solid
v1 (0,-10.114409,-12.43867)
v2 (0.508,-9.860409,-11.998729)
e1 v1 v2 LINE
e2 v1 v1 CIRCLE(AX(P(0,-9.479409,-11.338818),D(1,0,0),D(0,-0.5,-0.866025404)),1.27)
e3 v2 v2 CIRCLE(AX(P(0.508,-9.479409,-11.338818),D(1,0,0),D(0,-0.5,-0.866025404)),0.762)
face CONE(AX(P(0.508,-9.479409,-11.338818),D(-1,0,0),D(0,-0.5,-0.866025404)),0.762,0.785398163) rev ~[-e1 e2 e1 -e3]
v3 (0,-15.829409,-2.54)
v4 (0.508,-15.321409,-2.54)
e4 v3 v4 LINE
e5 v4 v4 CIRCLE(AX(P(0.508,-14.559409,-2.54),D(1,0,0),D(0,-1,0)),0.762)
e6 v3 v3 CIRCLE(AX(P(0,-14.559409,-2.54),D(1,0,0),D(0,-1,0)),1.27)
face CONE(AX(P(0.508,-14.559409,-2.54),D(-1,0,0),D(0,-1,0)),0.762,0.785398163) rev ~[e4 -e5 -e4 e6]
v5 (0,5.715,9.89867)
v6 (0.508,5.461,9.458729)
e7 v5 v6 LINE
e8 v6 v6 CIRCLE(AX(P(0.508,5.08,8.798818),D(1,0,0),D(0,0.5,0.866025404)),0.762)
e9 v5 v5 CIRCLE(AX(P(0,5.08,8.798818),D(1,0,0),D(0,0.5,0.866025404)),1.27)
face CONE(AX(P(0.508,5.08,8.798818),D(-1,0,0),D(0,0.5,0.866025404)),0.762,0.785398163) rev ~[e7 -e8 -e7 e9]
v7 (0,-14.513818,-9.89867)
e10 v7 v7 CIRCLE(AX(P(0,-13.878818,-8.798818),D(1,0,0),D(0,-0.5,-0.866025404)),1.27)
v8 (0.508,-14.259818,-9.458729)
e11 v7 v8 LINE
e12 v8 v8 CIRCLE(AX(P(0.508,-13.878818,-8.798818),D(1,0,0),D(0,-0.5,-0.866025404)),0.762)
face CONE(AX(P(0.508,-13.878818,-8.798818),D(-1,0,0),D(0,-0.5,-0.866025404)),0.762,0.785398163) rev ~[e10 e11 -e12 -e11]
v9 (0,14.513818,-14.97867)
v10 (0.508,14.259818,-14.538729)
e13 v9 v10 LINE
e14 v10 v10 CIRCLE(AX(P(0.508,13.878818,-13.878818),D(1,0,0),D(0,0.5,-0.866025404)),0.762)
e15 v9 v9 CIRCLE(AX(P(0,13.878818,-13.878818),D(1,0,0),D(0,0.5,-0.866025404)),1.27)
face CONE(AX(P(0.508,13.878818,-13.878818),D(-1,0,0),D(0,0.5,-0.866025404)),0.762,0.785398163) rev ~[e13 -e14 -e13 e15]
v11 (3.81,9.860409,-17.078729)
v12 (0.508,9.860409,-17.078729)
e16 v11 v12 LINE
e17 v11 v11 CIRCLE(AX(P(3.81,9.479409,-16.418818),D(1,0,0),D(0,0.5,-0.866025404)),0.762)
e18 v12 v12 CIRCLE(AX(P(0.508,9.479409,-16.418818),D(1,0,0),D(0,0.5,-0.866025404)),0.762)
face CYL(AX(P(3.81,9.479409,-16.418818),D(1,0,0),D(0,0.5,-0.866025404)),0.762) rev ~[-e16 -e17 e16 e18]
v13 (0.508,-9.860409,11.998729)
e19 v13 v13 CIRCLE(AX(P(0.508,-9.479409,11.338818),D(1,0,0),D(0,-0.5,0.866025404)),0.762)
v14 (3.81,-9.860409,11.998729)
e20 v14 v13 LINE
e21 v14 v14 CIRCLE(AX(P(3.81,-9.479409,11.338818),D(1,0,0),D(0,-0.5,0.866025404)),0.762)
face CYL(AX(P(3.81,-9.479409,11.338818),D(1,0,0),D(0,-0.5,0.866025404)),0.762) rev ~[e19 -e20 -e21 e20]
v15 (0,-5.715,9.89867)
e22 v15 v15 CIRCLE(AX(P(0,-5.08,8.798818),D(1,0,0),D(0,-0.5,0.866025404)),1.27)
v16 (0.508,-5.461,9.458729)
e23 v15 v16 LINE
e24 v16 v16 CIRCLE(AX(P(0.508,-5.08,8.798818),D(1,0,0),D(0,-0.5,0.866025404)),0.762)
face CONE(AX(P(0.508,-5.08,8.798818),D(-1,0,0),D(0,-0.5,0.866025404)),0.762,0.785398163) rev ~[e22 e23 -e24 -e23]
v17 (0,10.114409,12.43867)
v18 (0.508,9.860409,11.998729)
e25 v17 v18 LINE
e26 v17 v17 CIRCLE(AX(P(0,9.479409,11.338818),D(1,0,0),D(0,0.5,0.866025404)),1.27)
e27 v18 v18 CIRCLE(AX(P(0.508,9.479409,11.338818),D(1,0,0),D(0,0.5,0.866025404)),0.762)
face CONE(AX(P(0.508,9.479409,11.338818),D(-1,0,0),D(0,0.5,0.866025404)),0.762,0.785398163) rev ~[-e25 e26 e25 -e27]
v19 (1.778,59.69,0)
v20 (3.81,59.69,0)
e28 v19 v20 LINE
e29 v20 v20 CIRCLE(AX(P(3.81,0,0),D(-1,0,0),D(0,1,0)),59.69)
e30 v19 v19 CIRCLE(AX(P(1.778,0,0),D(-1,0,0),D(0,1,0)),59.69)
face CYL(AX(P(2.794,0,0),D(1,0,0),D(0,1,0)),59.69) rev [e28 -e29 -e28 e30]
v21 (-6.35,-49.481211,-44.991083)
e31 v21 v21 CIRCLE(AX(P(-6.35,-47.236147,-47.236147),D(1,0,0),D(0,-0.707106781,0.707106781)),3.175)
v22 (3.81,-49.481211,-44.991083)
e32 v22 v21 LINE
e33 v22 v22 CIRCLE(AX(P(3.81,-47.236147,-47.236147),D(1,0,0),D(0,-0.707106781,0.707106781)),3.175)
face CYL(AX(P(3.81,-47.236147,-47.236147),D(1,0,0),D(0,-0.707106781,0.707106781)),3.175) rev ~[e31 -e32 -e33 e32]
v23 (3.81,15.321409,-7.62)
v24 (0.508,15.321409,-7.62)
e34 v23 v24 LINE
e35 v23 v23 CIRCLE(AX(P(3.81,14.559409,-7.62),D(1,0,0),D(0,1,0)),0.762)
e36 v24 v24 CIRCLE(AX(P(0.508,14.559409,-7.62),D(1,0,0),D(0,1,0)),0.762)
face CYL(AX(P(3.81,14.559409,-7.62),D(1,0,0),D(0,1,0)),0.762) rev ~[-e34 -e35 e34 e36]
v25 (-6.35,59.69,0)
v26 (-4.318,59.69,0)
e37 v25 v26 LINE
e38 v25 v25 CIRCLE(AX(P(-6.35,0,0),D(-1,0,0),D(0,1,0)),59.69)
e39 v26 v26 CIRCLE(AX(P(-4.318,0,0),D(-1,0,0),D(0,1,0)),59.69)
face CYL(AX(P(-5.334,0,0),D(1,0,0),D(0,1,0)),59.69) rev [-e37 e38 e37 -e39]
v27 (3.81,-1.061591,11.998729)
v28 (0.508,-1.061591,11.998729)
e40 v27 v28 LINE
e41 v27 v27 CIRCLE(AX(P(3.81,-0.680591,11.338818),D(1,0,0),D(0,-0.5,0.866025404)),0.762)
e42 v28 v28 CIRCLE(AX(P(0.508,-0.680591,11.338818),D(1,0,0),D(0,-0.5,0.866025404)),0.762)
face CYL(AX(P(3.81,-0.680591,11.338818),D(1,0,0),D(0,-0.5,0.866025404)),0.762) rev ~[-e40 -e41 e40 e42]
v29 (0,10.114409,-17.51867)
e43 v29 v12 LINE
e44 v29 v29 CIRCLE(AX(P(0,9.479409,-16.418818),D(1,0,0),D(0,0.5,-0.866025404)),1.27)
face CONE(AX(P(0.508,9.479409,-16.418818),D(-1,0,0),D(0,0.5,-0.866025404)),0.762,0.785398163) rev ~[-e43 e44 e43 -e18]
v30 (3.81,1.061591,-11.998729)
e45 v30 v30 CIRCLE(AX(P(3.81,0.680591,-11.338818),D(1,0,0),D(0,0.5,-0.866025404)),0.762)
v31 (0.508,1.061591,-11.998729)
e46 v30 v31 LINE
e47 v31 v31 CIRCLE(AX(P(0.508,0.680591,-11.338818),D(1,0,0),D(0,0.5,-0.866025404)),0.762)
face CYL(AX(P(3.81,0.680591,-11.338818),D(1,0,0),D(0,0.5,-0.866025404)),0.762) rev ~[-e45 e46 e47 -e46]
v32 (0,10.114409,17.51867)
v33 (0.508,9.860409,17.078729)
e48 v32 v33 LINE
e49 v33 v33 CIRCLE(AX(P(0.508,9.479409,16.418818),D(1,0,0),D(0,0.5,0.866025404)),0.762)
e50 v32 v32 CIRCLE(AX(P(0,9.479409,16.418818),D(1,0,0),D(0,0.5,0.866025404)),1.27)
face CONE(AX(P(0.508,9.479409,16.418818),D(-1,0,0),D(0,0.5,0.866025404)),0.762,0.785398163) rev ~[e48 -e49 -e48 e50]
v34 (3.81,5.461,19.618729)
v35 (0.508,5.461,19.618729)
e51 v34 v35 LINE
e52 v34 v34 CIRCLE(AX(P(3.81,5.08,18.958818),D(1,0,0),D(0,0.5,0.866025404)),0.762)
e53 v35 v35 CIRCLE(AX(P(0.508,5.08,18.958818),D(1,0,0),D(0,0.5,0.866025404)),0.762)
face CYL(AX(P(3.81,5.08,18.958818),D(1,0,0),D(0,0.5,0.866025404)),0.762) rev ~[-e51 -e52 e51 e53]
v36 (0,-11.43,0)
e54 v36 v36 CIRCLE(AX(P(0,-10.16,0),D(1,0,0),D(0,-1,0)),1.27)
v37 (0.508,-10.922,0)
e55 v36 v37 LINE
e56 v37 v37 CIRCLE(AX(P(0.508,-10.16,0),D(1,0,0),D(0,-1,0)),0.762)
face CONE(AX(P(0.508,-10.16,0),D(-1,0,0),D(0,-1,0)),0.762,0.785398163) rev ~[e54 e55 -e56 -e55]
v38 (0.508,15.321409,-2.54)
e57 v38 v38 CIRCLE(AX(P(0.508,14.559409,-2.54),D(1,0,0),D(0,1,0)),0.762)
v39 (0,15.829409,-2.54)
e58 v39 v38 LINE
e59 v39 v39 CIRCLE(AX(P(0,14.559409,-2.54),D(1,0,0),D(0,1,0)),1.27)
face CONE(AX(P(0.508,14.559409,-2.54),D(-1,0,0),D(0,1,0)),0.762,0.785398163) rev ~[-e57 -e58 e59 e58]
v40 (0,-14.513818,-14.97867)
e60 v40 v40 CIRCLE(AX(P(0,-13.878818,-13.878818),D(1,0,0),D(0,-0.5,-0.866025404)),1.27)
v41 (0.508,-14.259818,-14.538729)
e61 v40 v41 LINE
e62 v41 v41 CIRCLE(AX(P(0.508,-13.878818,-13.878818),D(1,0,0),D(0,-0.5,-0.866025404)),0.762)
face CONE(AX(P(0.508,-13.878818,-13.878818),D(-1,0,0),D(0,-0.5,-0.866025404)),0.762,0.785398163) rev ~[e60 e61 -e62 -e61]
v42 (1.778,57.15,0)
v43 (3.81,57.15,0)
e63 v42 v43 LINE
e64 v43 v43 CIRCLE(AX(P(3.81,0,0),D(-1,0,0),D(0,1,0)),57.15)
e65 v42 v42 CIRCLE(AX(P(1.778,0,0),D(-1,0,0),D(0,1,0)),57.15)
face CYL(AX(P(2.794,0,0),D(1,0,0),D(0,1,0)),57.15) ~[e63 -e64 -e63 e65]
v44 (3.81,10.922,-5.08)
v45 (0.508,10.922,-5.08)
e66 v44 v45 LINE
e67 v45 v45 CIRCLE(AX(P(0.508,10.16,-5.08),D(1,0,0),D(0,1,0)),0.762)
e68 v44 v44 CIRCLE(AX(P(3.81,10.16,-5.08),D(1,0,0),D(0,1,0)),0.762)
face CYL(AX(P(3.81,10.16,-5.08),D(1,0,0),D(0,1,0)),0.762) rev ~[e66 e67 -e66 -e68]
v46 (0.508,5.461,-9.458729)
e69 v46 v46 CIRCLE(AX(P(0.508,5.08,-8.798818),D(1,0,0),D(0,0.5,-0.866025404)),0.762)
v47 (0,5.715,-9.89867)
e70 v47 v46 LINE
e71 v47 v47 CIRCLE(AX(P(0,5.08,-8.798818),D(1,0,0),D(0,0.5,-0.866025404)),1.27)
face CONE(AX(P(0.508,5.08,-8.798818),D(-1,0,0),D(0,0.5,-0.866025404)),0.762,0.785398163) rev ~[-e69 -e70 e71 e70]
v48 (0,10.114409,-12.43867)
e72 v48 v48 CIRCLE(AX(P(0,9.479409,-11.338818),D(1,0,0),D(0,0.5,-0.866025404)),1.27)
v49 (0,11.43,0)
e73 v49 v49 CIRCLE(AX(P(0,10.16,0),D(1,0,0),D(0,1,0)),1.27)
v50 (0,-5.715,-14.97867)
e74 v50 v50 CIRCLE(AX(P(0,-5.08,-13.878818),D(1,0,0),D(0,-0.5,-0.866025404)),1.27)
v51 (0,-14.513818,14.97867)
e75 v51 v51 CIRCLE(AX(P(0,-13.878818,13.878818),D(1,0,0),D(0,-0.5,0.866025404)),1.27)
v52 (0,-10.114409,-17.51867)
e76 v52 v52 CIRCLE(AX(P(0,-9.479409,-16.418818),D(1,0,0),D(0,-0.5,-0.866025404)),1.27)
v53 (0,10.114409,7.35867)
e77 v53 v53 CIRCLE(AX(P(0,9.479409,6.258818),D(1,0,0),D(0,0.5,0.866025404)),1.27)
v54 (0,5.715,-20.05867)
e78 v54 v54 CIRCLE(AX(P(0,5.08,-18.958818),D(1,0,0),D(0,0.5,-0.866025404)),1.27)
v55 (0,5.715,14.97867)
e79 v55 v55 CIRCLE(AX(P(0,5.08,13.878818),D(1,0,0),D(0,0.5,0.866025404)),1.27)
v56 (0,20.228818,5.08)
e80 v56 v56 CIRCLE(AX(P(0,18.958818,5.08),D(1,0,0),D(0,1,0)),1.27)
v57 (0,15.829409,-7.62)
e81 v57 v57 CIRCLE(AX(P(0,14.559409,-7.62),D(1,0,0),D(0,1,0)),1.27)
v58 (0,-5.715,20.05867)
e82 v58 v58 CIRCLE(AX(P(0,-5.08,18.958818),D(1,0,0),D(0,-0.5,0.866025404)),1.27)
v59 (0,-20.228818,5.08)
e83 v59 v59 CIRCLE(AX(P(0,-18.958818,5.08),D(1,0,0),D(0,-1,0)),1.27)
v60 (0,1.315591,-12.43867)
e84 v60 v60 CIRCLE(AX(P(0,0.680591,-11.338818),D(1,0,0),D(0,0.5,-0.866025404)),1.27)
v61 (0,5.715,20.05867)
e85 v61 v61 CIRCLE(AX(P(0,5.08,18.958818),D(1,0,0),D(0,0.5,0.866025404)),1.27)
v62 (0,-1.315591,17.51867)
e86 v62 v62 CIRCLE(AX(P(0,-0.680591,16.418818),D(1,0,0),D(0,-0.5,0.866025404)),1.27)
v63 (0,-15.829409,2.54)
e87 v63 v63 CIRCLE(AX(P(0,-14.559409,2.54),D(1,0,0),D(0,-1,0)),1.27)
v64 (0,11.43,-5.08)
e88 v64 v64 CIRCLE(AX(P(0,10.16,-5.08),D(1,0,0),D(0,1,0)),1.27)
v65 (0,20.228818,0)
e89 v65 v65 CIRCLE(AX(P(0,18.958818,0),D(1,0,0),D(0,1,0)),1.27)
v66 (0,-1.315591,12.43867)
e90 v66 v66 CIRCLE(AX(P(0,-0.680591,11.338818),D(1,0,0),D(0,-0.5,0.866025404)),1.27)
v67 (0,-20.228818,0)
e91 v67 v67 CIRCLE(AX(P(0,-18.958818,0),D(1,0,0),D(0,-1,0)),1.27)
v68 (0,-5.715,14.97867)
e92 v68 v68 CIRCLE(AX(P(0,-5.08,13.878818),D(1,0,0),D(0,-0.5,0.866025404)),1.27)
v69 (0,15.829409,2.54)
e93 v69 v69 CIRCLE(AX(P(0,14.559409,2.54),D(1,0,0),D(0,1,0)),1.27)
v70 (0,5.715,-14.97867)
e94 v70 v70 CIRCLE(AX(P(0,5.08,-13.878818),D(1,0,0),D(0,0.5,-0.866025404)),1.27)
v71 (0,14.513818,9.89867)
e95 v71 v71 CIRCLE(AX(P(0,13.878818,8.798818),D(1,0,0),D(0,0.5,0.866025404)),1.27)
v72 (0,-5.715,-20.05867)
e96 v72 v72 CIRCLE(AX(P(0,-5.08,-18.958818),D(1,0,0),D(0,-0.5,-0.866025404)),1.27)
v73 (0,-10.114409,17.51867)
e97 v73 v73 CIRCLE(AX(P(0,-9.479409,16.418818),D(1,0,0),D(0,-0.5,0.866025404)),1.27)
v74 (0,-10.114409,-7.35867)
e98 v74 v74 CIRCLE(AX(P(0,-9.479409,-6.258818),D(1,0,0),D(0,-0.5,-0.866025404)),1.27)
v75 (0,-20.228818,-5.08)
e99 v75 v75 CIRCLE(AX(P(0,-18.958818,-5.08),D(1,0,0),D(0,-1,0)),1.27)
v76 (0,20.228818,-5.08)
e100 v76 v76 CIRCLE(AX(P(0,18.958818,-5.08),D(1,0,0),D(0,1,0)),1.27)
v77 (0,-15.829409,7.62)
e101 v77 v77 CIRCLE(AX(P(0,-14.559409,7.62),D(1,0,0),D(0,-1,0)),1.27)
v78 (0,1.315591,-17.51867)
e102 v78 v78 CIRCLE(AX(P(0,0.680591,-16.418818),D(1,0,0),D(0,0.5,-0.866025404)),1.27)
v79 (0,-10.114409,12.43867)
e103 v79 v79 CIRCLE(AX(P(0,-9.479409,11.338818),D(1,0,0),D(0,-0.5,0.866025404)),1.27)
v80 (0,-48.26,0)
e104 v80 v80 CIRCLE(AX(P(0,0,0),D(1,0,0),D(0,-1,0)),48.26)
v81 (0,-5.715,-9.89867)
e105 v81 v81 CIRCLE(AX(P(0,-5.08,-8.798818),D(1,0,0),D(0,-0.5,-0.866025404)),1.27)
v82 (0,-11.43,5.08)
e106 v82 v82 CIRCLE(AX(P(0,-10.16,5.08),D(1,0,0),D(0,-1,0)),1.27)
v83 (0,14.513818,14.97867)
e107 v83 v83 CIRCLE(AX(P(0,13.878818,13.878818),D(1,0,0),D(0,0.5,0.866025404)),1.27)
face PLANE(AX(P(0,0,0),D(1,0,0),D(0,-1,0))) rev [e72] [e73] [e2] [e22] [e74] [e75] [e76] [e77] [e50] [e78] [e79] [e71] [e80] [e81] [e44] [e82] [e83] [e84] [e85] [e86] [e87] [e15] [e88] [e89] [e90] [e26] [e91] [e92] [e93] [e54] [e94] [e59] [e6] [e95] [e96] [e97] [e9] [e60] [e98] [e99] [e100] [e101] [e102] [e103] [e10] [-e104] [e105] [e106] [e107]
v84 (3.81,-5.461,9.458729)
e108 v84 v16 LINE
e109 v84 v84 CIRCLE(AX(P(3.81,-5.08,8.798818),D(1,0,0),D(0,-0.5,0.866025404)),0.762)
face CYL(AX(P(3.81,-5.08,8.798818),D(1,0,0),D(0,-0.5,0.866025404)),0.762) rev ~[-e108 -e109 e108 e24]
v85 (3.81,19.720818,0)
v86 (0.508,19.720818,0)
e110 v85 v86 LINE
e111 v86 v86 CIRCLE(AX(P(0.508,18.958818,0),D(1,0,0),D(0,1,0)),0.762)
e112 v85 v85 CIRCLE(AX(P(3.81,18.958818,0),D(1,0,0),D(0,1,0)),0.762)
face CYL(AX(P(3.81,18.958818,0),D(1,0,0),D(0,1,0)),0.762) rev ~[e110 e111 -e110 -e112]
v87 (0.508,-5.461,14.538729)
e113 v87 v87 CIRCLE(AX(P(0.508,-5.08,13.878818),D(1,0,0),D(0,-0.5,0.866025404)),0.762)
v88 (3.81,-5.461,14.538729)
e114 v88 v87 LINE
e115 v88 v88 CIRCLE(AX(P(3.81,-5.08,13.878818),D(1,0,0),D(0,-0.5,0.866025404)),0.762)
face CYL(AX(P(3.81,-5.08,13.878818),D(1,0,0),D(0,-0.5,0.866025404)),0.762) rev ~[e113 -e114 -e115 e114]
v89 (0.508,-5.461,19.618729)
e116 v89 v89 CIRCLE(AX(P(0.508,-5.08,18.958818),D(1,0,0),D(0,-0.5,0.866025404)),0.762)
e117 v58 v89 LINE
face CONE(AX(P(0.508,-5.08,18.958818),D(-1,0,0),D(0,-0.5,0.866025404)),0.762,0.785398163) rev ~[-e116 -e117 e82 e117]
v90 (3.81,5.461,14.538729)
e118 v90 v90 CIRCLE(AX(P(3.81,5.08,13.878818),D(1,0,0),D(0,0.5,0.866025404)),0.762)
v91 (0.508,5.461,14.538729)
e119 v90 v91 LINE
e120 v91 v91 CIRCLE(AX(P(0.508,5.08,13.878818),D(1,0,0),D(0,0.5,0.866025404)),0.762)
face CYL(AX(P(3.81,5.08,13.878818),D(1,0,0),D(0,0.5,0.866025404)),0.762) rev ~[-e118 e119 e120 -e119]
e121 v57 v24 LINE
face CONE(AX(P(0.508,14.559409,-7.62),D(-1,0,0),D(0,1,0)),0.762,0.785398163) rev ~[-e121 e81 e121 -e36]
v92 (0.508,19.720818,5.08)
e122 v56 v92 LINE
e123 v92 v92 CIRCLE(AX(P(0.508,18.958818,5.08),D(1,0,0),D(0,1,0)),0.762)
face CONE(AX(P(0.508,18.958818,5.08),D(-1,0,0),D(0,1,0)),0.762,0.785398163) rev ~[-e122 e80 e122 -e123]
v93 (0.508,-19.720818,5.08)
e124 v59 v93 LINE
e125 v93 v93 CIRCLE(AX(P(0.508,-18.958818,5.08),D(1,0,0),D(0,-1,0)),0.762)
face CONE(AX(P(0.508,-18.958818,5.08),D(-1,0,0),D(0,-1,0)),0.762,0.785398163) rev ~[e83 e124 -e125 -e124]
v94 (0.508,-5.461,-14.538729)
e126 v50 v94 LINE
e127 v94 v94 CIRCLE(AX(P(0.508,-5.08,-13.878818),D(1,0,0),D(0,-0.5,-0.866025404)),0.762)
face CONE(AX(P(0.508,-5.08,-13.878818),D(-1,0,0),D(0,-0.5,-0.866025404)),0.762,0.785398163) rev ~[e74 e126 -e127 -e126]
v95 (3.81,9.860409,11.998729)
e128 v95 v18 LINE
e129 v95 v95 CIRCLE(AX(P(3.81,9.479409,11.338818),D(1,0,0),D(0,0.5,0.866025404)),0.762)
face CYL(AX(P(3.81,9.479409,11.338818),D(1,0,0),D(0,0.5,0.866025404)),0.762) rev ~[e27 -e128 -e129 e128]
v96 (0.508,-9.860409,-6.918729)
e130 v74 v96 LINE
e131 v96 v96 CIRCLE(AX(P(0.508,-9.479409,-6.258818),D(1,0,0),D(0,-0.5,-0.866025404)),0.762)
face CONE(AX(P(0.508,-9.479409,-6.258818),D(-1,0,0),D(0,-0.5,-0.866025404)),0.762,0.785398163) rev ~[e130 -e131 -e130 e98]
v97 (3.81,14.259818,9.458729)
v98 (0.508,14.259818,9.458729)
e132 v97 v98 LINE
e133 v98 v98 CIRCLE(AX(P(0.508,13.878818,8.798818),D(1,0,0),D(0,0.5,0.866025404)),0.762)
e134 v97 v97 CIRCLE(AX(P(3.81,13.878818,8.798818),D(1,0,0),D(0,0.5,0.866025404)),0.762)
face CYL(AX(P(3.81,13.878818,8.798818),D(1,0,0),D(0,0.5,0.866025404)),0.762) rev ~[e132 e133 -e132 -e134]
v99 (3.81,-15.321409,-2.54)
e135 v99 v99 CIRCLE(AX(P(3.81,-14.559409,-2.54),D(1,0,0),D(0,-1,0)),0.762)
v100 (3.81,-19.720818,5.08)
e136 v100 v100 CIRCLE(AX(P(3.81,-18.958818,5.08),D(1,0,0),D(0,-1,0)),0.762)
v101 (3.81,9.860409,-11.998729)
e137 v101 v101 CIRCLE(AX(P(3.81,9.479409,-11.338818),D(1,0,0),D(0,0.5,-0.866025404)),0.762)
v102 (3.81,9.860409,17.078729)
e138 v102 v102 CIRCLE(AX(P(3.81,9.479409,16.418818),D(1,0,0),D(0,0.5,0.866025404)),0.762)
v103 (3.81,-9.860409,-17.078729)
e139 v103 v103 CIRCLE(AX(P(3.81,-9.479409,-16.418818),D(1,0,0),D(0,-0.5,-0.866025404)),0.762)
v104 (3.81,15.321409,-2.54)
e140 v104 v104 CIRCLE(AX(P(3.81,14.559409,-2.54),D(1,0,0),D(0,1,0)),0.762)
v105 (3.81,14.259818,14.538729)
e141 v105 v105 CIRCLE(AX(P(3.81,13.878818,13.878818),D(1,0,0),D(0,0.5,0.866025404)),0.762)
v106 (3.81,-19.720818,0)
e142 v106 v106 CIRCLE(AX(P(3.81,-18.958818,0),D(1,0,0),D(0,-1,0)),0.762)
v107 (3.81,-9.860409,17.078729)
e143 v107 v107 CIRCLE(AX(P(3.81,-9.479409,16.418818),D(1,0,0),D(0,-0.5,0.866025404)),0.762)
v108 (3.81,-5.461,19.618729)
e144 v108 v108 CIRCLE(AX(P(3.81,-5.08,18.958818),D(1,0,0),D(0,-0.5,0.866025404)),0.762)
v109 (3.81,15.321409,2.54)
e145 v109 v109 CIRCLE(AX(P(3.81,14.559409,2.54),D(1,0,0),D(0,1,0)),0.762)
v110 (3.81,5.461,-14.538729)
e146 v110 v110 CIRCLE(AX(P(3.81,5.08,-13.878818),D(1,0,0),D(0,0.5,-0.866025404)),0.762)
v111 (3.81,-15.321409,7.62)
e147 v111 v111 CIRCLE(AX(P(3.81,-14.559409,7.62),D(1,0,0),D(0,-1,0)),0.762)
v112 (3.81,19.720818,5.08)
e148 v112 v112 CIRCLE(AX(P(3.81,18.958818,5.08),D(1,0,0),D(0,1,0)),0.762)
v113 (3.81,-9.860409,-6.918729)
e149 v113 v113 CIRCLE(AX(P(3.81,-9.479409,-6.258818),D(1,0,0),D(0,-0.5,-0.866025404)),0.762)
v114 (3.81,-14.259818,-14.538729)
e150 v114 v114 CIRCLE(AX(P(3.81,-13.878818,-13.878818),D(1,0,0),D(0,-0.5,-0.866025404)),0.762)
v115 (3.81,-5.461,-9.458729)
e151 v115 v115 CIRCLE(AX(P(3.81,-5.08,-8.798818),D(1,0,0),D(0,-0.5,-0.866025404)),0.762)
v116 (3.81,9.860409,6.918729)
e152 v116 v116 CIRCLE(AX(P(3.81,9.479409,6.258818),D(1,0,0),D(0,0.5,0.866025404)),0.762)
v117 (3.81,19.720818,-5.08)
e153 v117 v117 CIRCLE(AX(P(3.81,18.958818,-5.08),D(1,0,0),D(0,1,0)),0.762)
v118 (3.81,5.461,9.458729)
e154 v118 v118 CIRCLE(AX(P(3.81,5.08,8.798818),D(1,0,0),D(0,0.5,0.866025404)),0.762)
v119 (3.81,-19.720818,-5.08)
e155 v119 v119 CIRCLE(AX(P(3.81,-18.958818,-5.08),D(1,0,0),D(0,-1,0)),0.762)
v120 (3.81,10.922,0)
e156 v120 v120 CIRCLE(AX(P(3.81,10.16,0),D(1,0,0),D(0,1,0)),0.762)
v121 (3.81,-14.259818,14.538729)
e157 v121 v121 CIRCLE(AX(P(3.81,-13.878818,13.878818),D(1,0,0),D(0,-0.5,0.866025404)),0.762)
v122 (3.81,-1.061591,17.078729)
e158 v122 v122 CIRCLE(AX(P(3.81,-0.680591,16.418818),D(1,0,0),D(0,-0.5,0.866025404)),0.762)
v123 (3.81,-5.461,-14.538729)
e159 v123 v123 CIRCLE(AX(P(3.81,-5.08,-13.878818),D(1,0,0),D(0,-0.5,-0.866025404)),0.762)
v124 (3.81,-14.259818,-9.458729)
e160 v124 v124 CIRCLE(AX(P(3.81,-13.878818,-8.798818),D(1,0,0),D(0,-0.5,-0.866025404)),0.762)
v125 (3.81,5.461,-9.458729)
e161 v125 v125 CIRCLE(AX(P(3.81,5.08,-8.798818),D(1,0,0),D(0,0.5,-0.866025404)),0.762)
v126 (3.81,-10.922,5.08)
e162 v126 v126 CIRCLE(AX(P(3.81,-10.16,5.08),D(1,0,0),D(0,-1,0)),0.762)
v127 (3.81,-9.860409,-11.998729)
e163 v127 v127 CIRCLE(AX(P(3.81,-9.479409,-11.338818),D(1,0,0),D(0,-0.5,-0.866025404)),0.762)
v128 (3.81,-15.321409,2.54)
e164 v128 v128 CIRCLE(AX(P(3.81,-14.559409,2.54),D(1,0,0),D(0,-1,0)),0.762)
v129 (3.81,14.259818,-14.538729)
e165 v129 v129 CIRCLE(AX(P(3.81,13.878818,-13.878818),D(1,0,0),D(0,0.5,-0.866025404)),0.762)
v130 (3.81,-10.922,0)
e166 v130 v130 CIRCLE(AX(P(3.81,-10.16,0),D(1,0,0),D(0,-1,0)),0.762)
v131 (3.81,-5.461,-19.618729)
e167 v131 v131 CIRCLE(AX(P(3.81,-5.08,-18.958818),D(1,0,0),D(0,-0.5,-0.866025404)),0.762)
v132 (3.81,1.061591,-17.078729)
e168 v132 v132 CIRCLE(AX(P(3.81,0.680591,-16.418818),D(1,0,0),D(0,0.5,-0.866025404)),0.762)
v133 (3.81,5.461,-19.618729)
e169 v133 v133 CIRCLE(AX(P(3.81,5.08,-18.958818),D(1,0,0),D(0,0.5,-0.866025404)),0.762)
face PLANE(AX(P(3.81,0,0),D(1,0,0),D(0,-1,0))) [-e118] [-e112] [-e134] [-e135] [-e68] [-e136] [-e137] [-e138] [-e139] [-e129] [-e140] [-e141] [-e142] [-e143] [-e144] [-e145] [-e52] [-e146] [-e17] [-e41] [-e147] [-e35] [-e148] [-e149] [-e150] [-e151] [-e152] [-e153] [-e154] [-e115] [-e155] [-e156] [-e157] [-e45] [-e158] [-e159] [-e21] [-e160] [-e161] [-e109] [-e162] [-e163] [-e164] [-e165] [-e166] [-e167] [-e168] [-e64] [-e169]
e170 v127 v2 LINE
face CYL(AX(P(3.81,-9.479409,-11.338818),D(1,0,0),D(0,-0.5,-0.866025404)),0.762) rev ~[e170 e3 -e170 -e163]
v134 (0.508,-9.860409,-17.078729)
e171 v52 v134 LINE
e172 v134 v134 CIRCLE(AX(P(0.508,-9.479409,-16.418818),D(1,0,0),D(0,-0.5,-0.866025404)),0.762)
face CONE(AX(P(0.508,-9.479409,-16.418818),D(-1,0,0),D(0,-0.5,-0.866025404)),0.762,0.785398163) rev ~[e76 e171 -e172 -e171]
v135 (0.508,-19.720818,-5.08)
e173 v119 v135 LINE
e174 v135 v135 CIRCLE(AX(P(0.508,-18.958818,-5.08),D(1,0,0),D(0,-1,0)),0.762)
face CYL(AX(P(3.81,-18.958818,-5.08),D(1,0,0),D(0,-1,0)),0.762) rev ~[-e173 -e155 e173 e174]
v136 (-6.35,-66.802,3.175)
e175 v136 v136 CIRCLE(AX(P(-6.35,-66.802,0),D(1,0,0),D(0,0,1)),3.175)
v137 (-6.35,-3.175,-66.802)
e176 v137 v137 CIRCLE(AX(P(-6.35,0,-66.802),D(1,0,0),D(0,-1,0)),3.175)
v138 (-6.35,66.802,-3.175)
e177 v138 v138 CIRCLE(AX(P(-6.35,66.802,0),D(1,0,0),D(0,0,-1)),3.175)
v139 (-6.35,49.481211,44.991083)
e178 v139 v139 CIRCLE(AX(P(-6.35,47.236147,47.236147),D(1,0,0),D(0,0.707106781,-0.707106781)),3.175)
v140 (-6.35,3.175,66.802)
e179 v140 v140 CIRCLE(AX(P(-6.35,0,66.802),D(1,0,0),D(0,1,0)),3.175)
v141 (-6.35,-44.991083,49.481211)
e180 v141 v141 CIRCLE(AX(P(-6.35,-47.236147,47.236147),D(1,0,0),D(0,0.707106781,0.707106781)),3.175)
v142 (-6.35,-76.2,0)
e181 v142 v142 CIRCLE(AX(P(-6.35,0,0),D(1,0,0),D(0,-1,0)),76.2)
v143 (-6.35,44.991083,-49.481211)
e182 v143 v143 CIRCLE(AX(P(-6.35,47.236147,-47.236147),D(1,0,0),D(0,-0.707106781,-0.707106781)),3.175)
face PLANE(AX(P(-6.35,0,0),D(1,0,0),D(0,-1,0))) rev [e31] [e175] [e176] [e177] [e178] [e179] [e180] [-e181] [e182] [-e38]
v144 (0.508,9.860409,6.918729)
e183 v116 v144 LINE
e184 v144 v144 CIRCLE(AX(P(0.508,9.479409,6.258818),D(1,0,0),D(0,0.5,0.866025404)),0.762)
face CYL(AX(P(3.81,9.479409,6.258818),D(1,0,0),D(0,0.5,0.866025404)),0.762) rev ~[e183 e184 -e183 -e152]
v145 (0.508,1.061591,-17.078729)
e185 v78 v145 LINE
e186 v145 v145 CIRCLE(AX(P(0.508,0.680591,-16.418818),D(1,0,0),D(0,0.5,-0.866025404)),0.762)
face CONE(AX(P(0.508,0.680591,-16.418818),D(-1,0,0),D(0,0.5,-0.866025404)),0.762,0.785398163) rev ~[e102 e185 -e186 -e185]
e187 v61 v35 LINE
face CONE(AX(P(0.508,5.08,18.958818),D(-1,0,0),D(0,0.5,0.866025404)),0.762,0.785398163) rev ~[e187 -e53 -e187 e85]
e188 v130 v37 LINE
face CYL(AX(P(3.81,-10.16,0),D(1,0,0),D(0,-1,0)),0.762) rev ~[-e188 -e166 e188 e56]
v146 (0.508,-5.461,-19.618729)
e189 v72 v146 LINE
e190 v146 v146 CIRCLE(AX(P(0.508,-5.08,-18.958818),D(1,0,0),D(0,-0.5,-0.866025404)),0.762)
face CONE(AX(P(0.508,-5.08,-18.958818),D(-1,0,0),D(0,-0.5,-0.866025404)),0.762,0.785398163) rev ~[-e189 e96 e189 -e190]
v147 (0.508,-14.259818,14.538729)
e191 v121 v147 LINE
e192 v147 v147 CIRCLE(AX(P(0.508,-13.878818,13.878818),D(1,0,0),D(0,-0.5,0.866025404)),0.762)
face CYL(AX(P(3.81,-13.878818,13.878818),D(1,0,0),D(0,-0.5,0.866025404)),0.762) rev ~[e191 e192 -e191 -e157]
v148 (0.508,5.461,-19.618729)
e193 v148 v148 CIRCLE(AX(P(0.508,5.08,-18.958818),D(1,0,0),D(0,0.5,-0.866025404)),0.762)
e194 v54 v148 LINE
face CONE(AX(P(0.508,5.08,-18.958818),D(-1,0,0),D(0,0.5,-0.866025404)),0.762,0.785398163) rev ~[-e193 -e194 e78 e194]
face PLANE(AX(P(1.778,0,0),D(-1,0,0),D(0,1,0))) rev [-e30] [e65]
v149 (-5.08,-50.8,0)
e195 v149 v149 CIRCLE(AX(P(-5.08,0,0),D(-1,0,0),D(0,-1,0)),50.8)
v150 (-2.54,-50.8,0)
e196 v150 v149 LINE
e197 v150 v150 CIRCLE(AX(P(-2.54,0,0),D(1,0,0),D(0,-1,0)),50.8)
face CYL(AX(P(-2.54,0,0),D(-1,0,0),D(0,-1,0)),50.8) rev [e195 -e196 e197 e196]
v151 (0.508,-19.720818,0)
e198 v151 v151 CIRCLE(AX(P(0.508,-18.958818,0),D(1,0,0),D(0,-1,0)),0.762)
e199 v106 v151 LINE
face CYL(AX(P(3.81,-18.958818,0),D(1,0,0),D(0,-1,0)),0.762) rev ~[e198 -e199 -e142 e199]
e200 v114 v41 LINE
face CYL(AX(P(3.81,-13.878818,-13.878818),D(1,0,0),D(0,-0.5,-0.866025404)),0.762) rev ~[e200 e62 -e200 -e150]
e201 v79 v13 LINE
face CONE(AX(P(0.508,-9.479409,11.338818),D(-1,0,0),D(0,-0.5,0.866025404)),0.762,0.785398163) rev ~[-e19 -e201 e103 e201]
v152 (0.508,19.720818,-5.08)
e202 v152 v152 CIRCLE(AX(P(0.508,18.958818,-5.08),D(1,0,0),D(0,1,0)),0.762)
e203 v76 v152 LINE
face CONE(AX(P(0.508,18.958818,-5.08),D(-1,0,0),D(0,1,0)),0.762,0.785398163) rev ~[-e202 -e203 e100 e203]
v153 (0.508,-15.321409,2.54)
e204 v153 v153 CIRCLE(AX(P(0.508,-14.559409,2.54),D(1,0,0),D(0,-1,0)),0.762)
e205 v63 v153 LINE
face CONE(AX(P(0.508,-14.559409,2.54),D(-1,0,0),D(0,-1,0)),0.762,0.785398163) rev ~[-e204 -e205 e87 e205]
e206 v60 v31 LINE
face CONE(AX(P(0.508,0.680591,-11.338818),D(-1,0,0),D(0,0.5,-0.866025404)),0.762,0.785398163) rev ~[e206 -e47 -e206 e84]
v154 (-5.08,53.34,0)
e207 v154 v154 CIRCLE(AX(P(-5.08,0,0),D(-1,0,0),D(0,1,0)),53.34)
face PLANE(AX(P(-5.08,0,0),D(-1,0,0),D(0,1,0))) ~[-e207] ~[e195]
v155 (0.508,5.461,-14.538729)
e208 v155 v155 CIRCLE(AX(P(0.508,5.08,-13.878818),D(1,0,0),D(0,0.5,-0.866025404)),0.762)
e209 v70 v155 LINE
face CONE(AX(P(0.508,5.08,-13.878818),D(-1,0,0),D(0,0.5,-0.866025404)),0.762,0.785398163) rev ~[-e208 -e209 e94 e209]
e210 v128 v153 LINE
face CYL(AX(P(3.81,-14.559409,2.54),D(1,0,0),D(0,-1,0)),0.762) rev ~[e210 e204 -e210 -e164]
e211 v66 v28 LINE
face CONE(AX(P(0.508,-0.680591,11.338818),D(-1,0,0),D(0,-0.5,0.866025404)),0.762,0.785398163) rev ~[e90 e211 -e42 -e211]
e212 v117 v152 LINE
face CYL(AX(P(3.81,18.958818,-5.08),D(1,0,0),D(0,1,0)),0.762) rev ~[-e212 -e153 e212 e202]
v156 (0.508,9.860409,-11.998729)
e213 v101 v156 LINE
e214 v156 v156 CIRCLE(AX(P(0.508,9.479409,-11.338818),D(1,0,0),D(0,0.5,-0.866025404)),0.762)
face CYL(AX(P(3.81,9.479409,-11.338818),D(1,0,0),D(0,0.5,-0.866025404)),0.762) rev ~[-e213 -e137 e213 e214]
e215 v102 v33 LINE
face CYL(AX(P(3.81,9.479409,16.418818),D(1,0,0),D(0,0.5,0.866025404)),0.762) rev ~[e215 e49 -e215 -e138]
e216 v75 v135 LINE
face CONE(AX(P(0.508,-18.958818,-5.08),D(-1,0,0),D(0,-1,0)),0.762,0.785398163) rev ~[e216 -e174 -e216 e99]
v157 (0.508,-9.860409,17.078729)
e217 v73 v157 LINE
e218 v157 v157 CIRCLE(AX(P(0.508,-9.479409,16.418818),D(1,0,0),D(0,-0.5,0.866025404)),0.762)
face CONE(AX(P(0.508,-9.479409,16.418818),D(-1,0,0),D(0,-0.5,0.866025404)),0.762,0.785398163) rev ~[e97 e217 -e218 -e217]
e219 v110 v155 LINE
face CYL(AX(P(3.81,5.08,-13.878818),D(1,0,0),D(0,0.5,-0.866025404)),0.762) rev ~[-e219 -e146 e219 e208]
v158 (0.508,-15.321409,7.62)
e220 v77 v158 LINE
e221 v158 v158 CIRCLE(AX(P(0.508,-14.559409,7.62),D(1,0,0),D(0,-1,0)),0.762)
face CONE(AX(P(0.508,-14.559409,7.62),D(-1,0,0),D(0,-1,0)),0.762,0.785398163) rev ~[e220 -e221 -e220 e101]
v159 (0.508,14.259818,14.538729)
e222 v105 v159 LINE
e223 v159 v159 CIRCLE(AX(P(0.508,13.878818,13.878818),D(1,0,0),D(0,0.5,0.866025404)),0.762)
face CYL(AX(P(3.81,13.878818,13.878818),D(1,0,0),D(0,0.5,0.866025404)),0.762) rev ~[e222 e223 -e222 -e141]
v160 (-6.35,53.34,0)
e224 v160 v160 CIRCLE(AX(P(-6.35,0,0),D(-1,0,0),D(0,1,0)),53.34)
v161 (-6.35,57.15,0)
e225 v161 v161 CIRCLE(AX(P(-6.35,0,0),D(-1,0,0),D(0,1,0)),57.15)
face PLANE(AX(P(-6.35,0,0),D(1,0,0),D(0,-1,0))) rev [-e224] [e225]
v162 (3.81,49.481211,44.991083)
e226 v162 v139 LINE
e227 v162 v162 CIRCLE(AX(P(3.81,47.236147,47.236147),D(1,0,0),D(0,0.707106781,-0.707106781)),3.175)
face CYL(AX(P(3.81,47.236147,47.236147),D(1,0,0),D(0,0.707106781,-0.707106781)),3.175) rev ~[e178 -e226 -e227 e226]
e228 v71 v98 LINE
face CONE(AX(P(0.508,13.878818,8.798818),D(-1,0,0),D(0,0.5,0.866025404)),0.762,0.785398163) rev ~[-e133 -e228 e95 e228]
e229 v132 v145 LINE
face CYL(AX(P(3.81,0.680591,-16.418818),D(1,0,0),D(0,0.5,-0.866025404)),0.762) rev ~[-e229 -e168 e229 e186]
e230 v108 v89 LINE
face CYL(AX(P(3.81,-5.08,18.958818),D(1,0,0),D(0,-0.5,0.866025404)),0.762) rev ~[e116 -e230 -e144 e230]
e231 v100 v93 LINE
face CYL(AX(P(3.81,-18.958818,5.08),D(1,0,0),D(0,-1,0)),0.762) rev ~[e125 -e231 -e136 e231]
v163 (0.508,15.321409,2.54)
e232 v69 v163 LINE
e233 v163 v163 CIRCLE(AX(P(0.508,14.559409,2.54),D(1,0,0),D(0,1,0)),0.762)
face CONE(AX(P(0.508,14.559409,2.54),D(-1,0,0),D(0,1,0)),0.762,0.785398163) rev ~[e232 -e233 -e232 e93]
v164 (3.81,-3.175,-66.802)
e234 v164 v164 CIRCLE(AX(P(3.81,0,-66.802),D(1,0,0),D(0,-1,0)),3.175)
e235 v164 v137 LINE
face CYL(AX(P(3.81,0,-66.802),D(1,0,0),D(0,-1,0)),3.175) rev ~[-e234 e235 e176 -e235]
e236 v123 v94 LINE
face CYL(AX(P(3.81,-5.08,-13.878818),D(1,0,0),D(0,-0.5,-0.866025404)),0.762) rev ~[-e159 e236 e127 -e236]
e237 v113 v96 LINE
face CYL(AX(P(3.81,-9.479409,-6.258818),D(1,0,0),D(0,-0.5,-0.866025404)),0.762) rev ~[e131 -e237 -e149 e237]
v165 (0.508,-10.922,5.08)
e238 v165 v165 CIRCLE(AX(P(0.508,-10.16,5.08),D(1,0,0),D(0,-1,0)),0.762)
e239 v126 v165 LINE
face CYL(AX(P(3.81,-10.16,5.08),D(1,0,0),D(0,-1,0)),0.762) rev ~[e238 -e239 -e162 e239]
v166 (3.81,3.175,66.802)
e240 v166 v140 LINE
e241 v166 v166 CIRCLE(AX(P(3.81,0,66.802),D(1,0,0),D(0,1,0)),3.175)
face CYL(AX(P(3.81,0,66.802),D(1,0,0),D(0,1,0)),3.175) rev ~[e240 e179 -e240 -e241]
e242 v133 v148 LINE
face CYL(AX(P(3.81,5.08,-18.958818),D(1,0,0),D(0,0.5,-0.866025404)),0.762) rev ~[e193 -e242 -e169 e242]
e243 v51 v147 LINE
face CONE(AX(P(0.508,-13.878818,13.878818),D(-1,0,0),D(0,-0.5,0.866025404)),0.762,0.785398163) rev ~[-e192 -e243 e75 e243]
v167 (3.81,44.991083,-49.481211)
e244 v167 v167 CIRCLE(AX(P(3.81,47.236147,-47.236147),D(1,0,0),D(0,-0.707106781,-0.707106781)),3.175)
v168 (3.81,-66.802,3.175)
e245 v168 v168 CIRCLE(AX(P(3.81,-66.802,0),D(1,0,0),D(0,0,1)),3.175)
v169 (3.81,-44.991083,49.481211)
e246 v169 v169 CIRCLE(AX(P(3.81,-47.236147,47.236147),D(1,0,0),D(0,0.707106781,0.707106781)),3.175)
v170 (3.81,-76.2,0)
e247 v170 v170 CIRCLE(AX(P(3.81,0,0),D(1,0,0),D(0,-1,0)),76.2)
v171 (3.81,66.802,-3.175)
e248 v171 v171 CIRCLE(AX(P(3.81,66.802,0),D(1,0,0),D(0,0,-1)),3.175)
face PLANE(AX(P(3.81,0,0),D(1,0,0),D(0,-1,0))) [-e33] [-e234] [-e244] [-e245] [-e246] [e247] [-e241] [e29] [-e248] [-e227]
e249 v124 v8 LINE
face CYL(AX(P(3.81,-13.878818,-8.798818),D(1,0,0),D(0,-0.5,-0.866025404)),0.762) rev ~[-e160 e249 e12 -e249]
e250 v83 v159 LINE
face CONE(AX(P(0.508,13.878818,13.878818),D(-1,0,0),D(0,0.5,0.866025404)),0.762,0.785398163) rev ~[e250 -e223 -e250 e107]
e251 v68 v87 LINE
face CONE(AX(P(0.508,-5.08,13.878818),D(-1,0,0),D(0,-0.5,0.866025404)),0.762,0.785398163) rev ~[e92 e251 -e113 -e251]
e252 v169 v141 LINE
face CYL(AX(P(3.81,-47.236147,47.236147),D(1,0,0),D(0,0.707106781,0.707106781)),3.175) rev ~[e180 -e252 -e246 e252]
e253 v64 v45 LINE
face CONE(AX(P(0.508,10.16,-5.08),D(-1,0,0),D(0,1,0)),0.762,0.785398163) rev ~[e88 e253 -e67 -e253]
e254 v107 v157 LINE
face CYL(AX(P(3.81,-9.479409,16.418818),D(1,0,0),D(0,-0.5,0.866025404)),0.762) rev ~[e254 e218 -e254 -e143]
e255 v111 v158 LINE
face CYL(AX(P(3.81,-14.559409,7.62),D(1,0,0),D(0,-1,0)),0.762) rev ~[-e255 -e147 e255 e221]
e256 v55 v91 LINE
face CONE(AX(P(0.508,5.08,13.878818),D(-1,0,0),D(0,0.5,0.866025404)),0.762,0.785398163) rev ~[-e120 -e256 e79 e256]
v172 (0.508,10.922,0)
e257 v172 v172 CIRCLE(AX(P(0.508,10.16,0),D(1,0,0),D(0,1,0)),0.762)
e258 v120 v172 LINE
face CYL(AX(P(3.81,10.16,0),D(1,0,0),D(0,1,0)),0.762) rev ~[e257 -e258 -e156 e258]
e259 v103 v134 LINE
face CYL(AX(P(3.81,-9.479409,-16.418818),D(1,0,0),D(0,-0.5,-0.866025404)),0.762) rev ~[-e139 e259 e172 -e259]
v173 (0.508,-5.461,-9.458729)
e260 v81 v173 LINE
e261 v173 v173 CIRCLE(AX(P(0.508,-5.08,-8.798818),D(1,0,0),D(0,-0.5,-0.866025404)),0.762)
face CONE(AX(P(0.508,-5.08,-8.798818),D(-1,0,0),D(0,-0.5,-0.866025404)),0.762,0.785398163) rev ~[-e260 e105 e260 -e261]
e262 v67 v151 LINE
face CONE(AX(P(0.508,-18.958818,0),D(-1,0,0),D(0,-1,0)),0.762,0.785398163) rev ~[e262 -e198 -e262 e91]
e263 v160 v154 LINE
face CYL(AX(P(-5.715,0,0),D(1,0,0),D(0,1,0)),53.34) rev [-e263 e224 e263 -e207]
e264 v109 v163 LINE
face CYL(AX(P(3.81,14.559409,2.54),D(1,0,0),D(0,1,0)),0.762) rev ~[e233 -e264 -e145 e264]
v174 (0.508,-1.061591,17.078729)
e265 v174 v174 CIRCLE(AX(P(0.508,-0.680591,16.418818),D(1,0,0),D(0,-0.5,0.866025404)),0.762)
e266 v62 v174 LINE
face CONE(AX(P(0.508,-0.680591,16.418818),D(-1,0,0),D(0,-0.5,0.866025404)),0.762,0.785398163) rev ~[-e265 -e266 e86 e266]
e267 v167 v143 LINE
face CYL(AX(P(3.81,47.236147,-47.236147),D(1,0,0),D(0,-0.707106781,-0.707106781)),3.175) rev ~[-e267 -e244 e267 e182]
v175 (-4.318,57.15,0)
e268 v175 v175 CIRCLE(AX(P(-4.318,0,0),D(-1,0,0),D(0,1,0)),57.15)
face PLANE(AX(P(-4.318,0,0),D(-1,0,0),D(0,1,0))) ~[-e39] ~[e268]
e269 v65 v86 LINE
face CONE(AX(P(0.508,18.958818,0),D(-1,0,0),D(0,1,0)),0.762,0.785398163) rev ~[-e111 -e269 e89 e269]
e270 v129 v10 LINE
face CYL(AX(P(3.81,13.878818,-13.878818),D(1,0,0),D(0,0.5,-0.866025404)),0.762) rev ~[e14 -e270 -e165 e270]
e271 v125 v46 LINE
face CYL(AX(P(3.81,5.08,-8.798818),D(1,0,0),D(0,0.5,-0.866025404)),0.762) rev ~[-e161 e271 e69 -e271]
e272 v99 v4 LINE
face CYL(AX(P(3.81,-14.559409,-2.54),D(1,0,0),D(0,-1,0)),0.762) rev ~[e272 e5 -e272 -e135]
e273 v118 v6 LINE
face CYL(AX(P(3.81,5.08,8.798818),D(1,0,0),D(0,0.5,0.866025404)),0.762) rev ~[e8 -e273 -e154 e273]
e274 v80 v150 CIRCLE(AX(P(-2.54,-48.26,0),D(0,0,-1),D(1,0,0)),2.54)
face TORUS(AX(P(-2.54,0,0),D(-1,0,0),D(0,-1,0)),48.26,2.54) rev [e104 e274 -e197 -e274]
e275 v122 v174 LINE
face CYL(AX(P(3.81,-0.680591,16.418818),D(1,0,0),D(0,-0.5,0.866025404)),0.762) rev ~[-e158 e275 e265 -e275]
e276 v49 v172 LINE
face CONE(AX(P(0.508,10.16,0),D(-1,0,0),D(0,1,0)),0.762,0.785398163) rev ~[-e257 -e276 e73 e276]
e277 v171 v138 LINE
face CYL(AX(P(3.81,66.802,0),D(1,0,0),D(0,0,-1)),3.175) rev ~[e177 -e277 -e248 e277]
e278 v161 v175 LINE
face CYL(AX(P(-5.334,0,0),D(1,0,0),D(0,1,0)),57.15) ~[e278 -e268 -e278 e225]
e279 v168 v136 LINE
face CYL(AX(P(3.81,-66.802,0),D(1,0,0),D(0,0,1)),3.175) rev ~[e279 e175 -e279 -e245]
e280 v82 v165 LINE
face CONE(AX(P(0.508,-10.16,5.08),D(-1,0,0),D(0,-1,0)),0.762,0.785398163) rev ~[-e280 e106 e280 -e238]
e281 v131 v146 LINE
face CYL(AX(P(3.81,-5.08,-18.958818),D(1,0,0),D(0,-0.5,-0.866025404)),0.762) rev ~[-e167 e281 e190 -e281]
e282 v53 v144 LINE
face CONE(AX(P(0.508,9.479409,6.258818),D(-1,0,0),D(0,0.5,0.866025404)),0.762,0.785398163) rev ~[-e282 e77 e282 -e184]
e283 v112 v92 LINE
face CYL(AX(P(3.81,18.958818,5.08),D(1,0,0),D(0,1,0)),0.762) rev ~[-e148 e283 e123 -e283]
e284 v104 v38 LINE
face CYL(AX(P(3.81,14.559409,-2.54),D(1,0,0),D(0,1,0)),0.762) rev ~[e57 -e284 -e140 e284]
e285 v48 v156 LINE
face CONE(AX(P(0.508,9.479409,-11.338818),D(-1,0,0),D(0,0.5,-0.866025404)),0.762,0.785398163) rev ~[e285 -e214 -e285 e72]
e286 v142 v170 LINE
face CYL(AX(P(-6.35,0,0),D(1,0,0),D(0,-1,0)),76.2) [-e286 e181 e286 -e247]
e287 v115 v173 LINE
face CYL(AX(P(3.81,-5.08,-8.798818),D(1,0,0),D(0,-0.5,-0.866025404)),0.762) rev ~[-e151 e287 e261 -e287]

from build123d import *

# Parameters (mm, degrees)
SKETCH2_R                    = 0.762
CUT_EXTRUDE1_DEPTH           = 109.240960824
CHAMFER1_SIZE                = 0.508
CIRPATTERN1_COUNT            = 6
CHAMFER1_OF_CIRPATTERN1_SIZE = 0.508
SKETCH3_R                    = 3.175
CUT_EXTRUDE2_DEPTH           = 109.240960824
CIRPATTERN2_COUNT            = 8
SKETCH4_W                    = 2.032
SKETCH4_H                    = 2.54
SKETCH4_W_2                  = 1.27


with BuildPart() as part:
    # Sketch1 → Revolve1 (revolve)
    with BuildSketch(Plane.XY, mode=Mode.PRIVATE) as revolve1_sk:
        with BuildLine():
            Line((0, 0), (0, 48.26))
            ThreePointArc((0, 48.26), (-0.743948776, 50.056051224), (-2.54, 50.8))
            Line((-2.54, 50.8), (-6.35, 50.8))
            Line((-6.35, 50.8), (-6.35, 76.2))
            Line((-6.35, 76.2), (3.81, 76.2))
            Line((3.81, 76.2), (3.81, 0))
            Line((3.81, 0), (0, 0))
        make_face()
    revolve(revolve1_sk.sketch.rotate(Axis((-6.35, 0, 0), (1, 0, 0)), 180), axis=Axis((-6.35, 0, 0), (1, 0, 0)))

    # Sketch2 → Cut-Extrude1 (cut, through all)
    with BuildSketch(Plane(origin=(3.81, 0, 0), x_dir=(0, 0, -1), z_dir=(1, 0, 0))):
        with Locations(Location((0, 10.16, 0), (0, 0, 90))):
            Circle(SKETCH2_R)
        with Locations(Location((-2.54, 14.559409051, 0), (0, 0, 90))):
            Circle(SKETCH2_R)
        with Locations(Location((5.08, 10.16, 0), (0, 0, 90))):
            Circle(SKETCH2_R)
        with Locations(Location((-5.08, 18.958818102, 0), (0, 0, 90))):
            Circle(SKETCH2_R)
        with Locations(Location((0, 18.958818102, 0), (0, 0, 90))):
            Circle(SKETCH2_R)
        with Locations(Location((5.08, 18.958818102, 0), (0, 0, 90))):
            Circle(SKETCH2_R)
        with Locations(Location((7.62, 14.559409051, 0), (0, 0, 90))):
            Circle(SKETCH2_R)
        with Locations(Location((2.54, 14.559409051, 0), (0, 0, 90))):
            Circle(SKETCH2_R)
    cut_extrude1 = extrude(amount=-CUT_EXTRUDE1_DEPTH, mode=Mode.SUBTRACT)

    # Chamfer1
    chamfer1_edges = [part.edges().sort_by_distance(p)[0] for p in [
        (0, 18.196818102, 5.08),
        (0, 13.797409051, 2.54),
        (0, 18.196818102, 0),
        (0, 18.196818102, -5.08),
        (0, 13.797409051, -7.62),
        (0, 13.797409051, -2.54),
        (0, 9.398, 0),
        (0, 9.398, -5.08),
    ]]
    chamfer(chamfer1_edges, length=CHAMFER1_SIZE)

    # CirPattern1: Cut-Extrude1 ×6 about axis
    cirpattern1_axis = Axis((0, 0, 0), (1, 0, 0))
    for i in range(1, CIRPATTERN1_COUNT):
        add(cut_extrude1.rotate(cirpattern1_axis, i * 360 / CIRPATTERN1_COUNT), mode=Mode.SUBTRACT)

    # Chamfer1 of CirPattern1
    chamfer1_of_cirpattern1_edges = [part.edges().sort_by_distance(p)[0] for p in [
        (0, 4.699, 18.298906745),
        (0, 4.699, 13.218906745),
        (0, 9.098409051, 15.758906745),
        (0, 13.497818102, 13.218906745),
        (0, 13.497818102, 8.138906745),
        (0, 9.098409051, 10.678906745),
        (0, 4.699, 8.138906745),
        (0, 9.098409051, 5.598906745),
        (0, -13.497818102, 13.218906745),
        (0, -9.098409051, 10.678906745),
        (0, -9.098409051, 15.758906745),
        (0, -4.699, 18.298906745),
        (0, -0.299590949, 15.758906745),
        (0, -4.699, 13.218906745),
        (0, -4.699, 8.138906745),
        (0, -0.299590949, 10.678906745),
        (0, -18.196818102, -5.08),
        (0, -13.797409051, -2.54),
        (0, -18.196818102, 0),
        (0, -18.196818102, 5.08),
        (0, -13.797409051, 7.62),
        (0, -13.797409051, 2.54),
        (0, -9.398, 0),
        (0, -9.398, 5.08),
        (0, -4.699, -18.298906745),
        (0, -4.699, -13.218906745),
        (0, -9.098409051, -15.758906745),
        (0, -13.497818102, -13.218906745),
        (0, -13.497818102, -8.138906745),
        (0, -9.098409051, -10.678906745),
        (0, -4.699, -8.138906745),
        (0, -9.098409051, -5.598906745),
        (0, 13.497818102, -13.218906745),
        (0, 9.098409051, -10.678906745),
        (0, 9.098409051, -15.758906745),
        (0, 4.699, -18.298906745),
        (0, 0.299590949, -15.758906745),
        (0, 4.699, -13.218906745),
        (0, 4.699, -8.138906745),
        (0, 0.299590949, -10.678906745),
    ]]
    chamfer(chamfer1_of_cirpattern1_edges, length=CHAMFER1_OF_CIRPATTERN1_SIZE)

    # Sketch3 → Cut-Extrude2 (cut, through all)
    with BuildSketch(Plane(origin=(3.81, 0, 0), x_dir=(0, 0, -1), z_dir=(1, 0, 0))):
        with Locations(Location((-66.802, 0, 0), (0, 0, 90))):
            Circle(SKETCH3_R)
    cut_extrude2 = extrude(amount=-CUT_EXTRUDE2_DEPTH, mode=Mode.SUBTRACT)

    # CirPattern2: Cut-Extrude2 ×8 about axis
    cirpattern2_axis = Axis((0, 0, 0), (1, 0, 0))
    for i in range(1, CIRPATTERN2_COUNT):
        add(cut_extrude2.rotate(cirpattern2_axis, i * 360 / CIRPATTERN2_COUNT), mode=Mode.SUBTRACT)

    # Sketch4 → Cut-Revolve1 (revolve, cut)
    with BuildSketch(Plane.XY):
        with Locations((2.794, 58.42)):
            Rectangle(SKETCH4_W, SKETCH4_H)
        with Locations((-5.334, 58.42)):
            Rectangle(SKETCH4_W, SKETCH4_H)
        with Locations((-5.715, 52.07)):
            Rectangle(SKETCH4_W_2, SKETCH4_H)
    revolve(axis=Axis((0, 0, 0), (-1, 0, 0)), mode=Mode.SUBTRACT)


solid = part.part
